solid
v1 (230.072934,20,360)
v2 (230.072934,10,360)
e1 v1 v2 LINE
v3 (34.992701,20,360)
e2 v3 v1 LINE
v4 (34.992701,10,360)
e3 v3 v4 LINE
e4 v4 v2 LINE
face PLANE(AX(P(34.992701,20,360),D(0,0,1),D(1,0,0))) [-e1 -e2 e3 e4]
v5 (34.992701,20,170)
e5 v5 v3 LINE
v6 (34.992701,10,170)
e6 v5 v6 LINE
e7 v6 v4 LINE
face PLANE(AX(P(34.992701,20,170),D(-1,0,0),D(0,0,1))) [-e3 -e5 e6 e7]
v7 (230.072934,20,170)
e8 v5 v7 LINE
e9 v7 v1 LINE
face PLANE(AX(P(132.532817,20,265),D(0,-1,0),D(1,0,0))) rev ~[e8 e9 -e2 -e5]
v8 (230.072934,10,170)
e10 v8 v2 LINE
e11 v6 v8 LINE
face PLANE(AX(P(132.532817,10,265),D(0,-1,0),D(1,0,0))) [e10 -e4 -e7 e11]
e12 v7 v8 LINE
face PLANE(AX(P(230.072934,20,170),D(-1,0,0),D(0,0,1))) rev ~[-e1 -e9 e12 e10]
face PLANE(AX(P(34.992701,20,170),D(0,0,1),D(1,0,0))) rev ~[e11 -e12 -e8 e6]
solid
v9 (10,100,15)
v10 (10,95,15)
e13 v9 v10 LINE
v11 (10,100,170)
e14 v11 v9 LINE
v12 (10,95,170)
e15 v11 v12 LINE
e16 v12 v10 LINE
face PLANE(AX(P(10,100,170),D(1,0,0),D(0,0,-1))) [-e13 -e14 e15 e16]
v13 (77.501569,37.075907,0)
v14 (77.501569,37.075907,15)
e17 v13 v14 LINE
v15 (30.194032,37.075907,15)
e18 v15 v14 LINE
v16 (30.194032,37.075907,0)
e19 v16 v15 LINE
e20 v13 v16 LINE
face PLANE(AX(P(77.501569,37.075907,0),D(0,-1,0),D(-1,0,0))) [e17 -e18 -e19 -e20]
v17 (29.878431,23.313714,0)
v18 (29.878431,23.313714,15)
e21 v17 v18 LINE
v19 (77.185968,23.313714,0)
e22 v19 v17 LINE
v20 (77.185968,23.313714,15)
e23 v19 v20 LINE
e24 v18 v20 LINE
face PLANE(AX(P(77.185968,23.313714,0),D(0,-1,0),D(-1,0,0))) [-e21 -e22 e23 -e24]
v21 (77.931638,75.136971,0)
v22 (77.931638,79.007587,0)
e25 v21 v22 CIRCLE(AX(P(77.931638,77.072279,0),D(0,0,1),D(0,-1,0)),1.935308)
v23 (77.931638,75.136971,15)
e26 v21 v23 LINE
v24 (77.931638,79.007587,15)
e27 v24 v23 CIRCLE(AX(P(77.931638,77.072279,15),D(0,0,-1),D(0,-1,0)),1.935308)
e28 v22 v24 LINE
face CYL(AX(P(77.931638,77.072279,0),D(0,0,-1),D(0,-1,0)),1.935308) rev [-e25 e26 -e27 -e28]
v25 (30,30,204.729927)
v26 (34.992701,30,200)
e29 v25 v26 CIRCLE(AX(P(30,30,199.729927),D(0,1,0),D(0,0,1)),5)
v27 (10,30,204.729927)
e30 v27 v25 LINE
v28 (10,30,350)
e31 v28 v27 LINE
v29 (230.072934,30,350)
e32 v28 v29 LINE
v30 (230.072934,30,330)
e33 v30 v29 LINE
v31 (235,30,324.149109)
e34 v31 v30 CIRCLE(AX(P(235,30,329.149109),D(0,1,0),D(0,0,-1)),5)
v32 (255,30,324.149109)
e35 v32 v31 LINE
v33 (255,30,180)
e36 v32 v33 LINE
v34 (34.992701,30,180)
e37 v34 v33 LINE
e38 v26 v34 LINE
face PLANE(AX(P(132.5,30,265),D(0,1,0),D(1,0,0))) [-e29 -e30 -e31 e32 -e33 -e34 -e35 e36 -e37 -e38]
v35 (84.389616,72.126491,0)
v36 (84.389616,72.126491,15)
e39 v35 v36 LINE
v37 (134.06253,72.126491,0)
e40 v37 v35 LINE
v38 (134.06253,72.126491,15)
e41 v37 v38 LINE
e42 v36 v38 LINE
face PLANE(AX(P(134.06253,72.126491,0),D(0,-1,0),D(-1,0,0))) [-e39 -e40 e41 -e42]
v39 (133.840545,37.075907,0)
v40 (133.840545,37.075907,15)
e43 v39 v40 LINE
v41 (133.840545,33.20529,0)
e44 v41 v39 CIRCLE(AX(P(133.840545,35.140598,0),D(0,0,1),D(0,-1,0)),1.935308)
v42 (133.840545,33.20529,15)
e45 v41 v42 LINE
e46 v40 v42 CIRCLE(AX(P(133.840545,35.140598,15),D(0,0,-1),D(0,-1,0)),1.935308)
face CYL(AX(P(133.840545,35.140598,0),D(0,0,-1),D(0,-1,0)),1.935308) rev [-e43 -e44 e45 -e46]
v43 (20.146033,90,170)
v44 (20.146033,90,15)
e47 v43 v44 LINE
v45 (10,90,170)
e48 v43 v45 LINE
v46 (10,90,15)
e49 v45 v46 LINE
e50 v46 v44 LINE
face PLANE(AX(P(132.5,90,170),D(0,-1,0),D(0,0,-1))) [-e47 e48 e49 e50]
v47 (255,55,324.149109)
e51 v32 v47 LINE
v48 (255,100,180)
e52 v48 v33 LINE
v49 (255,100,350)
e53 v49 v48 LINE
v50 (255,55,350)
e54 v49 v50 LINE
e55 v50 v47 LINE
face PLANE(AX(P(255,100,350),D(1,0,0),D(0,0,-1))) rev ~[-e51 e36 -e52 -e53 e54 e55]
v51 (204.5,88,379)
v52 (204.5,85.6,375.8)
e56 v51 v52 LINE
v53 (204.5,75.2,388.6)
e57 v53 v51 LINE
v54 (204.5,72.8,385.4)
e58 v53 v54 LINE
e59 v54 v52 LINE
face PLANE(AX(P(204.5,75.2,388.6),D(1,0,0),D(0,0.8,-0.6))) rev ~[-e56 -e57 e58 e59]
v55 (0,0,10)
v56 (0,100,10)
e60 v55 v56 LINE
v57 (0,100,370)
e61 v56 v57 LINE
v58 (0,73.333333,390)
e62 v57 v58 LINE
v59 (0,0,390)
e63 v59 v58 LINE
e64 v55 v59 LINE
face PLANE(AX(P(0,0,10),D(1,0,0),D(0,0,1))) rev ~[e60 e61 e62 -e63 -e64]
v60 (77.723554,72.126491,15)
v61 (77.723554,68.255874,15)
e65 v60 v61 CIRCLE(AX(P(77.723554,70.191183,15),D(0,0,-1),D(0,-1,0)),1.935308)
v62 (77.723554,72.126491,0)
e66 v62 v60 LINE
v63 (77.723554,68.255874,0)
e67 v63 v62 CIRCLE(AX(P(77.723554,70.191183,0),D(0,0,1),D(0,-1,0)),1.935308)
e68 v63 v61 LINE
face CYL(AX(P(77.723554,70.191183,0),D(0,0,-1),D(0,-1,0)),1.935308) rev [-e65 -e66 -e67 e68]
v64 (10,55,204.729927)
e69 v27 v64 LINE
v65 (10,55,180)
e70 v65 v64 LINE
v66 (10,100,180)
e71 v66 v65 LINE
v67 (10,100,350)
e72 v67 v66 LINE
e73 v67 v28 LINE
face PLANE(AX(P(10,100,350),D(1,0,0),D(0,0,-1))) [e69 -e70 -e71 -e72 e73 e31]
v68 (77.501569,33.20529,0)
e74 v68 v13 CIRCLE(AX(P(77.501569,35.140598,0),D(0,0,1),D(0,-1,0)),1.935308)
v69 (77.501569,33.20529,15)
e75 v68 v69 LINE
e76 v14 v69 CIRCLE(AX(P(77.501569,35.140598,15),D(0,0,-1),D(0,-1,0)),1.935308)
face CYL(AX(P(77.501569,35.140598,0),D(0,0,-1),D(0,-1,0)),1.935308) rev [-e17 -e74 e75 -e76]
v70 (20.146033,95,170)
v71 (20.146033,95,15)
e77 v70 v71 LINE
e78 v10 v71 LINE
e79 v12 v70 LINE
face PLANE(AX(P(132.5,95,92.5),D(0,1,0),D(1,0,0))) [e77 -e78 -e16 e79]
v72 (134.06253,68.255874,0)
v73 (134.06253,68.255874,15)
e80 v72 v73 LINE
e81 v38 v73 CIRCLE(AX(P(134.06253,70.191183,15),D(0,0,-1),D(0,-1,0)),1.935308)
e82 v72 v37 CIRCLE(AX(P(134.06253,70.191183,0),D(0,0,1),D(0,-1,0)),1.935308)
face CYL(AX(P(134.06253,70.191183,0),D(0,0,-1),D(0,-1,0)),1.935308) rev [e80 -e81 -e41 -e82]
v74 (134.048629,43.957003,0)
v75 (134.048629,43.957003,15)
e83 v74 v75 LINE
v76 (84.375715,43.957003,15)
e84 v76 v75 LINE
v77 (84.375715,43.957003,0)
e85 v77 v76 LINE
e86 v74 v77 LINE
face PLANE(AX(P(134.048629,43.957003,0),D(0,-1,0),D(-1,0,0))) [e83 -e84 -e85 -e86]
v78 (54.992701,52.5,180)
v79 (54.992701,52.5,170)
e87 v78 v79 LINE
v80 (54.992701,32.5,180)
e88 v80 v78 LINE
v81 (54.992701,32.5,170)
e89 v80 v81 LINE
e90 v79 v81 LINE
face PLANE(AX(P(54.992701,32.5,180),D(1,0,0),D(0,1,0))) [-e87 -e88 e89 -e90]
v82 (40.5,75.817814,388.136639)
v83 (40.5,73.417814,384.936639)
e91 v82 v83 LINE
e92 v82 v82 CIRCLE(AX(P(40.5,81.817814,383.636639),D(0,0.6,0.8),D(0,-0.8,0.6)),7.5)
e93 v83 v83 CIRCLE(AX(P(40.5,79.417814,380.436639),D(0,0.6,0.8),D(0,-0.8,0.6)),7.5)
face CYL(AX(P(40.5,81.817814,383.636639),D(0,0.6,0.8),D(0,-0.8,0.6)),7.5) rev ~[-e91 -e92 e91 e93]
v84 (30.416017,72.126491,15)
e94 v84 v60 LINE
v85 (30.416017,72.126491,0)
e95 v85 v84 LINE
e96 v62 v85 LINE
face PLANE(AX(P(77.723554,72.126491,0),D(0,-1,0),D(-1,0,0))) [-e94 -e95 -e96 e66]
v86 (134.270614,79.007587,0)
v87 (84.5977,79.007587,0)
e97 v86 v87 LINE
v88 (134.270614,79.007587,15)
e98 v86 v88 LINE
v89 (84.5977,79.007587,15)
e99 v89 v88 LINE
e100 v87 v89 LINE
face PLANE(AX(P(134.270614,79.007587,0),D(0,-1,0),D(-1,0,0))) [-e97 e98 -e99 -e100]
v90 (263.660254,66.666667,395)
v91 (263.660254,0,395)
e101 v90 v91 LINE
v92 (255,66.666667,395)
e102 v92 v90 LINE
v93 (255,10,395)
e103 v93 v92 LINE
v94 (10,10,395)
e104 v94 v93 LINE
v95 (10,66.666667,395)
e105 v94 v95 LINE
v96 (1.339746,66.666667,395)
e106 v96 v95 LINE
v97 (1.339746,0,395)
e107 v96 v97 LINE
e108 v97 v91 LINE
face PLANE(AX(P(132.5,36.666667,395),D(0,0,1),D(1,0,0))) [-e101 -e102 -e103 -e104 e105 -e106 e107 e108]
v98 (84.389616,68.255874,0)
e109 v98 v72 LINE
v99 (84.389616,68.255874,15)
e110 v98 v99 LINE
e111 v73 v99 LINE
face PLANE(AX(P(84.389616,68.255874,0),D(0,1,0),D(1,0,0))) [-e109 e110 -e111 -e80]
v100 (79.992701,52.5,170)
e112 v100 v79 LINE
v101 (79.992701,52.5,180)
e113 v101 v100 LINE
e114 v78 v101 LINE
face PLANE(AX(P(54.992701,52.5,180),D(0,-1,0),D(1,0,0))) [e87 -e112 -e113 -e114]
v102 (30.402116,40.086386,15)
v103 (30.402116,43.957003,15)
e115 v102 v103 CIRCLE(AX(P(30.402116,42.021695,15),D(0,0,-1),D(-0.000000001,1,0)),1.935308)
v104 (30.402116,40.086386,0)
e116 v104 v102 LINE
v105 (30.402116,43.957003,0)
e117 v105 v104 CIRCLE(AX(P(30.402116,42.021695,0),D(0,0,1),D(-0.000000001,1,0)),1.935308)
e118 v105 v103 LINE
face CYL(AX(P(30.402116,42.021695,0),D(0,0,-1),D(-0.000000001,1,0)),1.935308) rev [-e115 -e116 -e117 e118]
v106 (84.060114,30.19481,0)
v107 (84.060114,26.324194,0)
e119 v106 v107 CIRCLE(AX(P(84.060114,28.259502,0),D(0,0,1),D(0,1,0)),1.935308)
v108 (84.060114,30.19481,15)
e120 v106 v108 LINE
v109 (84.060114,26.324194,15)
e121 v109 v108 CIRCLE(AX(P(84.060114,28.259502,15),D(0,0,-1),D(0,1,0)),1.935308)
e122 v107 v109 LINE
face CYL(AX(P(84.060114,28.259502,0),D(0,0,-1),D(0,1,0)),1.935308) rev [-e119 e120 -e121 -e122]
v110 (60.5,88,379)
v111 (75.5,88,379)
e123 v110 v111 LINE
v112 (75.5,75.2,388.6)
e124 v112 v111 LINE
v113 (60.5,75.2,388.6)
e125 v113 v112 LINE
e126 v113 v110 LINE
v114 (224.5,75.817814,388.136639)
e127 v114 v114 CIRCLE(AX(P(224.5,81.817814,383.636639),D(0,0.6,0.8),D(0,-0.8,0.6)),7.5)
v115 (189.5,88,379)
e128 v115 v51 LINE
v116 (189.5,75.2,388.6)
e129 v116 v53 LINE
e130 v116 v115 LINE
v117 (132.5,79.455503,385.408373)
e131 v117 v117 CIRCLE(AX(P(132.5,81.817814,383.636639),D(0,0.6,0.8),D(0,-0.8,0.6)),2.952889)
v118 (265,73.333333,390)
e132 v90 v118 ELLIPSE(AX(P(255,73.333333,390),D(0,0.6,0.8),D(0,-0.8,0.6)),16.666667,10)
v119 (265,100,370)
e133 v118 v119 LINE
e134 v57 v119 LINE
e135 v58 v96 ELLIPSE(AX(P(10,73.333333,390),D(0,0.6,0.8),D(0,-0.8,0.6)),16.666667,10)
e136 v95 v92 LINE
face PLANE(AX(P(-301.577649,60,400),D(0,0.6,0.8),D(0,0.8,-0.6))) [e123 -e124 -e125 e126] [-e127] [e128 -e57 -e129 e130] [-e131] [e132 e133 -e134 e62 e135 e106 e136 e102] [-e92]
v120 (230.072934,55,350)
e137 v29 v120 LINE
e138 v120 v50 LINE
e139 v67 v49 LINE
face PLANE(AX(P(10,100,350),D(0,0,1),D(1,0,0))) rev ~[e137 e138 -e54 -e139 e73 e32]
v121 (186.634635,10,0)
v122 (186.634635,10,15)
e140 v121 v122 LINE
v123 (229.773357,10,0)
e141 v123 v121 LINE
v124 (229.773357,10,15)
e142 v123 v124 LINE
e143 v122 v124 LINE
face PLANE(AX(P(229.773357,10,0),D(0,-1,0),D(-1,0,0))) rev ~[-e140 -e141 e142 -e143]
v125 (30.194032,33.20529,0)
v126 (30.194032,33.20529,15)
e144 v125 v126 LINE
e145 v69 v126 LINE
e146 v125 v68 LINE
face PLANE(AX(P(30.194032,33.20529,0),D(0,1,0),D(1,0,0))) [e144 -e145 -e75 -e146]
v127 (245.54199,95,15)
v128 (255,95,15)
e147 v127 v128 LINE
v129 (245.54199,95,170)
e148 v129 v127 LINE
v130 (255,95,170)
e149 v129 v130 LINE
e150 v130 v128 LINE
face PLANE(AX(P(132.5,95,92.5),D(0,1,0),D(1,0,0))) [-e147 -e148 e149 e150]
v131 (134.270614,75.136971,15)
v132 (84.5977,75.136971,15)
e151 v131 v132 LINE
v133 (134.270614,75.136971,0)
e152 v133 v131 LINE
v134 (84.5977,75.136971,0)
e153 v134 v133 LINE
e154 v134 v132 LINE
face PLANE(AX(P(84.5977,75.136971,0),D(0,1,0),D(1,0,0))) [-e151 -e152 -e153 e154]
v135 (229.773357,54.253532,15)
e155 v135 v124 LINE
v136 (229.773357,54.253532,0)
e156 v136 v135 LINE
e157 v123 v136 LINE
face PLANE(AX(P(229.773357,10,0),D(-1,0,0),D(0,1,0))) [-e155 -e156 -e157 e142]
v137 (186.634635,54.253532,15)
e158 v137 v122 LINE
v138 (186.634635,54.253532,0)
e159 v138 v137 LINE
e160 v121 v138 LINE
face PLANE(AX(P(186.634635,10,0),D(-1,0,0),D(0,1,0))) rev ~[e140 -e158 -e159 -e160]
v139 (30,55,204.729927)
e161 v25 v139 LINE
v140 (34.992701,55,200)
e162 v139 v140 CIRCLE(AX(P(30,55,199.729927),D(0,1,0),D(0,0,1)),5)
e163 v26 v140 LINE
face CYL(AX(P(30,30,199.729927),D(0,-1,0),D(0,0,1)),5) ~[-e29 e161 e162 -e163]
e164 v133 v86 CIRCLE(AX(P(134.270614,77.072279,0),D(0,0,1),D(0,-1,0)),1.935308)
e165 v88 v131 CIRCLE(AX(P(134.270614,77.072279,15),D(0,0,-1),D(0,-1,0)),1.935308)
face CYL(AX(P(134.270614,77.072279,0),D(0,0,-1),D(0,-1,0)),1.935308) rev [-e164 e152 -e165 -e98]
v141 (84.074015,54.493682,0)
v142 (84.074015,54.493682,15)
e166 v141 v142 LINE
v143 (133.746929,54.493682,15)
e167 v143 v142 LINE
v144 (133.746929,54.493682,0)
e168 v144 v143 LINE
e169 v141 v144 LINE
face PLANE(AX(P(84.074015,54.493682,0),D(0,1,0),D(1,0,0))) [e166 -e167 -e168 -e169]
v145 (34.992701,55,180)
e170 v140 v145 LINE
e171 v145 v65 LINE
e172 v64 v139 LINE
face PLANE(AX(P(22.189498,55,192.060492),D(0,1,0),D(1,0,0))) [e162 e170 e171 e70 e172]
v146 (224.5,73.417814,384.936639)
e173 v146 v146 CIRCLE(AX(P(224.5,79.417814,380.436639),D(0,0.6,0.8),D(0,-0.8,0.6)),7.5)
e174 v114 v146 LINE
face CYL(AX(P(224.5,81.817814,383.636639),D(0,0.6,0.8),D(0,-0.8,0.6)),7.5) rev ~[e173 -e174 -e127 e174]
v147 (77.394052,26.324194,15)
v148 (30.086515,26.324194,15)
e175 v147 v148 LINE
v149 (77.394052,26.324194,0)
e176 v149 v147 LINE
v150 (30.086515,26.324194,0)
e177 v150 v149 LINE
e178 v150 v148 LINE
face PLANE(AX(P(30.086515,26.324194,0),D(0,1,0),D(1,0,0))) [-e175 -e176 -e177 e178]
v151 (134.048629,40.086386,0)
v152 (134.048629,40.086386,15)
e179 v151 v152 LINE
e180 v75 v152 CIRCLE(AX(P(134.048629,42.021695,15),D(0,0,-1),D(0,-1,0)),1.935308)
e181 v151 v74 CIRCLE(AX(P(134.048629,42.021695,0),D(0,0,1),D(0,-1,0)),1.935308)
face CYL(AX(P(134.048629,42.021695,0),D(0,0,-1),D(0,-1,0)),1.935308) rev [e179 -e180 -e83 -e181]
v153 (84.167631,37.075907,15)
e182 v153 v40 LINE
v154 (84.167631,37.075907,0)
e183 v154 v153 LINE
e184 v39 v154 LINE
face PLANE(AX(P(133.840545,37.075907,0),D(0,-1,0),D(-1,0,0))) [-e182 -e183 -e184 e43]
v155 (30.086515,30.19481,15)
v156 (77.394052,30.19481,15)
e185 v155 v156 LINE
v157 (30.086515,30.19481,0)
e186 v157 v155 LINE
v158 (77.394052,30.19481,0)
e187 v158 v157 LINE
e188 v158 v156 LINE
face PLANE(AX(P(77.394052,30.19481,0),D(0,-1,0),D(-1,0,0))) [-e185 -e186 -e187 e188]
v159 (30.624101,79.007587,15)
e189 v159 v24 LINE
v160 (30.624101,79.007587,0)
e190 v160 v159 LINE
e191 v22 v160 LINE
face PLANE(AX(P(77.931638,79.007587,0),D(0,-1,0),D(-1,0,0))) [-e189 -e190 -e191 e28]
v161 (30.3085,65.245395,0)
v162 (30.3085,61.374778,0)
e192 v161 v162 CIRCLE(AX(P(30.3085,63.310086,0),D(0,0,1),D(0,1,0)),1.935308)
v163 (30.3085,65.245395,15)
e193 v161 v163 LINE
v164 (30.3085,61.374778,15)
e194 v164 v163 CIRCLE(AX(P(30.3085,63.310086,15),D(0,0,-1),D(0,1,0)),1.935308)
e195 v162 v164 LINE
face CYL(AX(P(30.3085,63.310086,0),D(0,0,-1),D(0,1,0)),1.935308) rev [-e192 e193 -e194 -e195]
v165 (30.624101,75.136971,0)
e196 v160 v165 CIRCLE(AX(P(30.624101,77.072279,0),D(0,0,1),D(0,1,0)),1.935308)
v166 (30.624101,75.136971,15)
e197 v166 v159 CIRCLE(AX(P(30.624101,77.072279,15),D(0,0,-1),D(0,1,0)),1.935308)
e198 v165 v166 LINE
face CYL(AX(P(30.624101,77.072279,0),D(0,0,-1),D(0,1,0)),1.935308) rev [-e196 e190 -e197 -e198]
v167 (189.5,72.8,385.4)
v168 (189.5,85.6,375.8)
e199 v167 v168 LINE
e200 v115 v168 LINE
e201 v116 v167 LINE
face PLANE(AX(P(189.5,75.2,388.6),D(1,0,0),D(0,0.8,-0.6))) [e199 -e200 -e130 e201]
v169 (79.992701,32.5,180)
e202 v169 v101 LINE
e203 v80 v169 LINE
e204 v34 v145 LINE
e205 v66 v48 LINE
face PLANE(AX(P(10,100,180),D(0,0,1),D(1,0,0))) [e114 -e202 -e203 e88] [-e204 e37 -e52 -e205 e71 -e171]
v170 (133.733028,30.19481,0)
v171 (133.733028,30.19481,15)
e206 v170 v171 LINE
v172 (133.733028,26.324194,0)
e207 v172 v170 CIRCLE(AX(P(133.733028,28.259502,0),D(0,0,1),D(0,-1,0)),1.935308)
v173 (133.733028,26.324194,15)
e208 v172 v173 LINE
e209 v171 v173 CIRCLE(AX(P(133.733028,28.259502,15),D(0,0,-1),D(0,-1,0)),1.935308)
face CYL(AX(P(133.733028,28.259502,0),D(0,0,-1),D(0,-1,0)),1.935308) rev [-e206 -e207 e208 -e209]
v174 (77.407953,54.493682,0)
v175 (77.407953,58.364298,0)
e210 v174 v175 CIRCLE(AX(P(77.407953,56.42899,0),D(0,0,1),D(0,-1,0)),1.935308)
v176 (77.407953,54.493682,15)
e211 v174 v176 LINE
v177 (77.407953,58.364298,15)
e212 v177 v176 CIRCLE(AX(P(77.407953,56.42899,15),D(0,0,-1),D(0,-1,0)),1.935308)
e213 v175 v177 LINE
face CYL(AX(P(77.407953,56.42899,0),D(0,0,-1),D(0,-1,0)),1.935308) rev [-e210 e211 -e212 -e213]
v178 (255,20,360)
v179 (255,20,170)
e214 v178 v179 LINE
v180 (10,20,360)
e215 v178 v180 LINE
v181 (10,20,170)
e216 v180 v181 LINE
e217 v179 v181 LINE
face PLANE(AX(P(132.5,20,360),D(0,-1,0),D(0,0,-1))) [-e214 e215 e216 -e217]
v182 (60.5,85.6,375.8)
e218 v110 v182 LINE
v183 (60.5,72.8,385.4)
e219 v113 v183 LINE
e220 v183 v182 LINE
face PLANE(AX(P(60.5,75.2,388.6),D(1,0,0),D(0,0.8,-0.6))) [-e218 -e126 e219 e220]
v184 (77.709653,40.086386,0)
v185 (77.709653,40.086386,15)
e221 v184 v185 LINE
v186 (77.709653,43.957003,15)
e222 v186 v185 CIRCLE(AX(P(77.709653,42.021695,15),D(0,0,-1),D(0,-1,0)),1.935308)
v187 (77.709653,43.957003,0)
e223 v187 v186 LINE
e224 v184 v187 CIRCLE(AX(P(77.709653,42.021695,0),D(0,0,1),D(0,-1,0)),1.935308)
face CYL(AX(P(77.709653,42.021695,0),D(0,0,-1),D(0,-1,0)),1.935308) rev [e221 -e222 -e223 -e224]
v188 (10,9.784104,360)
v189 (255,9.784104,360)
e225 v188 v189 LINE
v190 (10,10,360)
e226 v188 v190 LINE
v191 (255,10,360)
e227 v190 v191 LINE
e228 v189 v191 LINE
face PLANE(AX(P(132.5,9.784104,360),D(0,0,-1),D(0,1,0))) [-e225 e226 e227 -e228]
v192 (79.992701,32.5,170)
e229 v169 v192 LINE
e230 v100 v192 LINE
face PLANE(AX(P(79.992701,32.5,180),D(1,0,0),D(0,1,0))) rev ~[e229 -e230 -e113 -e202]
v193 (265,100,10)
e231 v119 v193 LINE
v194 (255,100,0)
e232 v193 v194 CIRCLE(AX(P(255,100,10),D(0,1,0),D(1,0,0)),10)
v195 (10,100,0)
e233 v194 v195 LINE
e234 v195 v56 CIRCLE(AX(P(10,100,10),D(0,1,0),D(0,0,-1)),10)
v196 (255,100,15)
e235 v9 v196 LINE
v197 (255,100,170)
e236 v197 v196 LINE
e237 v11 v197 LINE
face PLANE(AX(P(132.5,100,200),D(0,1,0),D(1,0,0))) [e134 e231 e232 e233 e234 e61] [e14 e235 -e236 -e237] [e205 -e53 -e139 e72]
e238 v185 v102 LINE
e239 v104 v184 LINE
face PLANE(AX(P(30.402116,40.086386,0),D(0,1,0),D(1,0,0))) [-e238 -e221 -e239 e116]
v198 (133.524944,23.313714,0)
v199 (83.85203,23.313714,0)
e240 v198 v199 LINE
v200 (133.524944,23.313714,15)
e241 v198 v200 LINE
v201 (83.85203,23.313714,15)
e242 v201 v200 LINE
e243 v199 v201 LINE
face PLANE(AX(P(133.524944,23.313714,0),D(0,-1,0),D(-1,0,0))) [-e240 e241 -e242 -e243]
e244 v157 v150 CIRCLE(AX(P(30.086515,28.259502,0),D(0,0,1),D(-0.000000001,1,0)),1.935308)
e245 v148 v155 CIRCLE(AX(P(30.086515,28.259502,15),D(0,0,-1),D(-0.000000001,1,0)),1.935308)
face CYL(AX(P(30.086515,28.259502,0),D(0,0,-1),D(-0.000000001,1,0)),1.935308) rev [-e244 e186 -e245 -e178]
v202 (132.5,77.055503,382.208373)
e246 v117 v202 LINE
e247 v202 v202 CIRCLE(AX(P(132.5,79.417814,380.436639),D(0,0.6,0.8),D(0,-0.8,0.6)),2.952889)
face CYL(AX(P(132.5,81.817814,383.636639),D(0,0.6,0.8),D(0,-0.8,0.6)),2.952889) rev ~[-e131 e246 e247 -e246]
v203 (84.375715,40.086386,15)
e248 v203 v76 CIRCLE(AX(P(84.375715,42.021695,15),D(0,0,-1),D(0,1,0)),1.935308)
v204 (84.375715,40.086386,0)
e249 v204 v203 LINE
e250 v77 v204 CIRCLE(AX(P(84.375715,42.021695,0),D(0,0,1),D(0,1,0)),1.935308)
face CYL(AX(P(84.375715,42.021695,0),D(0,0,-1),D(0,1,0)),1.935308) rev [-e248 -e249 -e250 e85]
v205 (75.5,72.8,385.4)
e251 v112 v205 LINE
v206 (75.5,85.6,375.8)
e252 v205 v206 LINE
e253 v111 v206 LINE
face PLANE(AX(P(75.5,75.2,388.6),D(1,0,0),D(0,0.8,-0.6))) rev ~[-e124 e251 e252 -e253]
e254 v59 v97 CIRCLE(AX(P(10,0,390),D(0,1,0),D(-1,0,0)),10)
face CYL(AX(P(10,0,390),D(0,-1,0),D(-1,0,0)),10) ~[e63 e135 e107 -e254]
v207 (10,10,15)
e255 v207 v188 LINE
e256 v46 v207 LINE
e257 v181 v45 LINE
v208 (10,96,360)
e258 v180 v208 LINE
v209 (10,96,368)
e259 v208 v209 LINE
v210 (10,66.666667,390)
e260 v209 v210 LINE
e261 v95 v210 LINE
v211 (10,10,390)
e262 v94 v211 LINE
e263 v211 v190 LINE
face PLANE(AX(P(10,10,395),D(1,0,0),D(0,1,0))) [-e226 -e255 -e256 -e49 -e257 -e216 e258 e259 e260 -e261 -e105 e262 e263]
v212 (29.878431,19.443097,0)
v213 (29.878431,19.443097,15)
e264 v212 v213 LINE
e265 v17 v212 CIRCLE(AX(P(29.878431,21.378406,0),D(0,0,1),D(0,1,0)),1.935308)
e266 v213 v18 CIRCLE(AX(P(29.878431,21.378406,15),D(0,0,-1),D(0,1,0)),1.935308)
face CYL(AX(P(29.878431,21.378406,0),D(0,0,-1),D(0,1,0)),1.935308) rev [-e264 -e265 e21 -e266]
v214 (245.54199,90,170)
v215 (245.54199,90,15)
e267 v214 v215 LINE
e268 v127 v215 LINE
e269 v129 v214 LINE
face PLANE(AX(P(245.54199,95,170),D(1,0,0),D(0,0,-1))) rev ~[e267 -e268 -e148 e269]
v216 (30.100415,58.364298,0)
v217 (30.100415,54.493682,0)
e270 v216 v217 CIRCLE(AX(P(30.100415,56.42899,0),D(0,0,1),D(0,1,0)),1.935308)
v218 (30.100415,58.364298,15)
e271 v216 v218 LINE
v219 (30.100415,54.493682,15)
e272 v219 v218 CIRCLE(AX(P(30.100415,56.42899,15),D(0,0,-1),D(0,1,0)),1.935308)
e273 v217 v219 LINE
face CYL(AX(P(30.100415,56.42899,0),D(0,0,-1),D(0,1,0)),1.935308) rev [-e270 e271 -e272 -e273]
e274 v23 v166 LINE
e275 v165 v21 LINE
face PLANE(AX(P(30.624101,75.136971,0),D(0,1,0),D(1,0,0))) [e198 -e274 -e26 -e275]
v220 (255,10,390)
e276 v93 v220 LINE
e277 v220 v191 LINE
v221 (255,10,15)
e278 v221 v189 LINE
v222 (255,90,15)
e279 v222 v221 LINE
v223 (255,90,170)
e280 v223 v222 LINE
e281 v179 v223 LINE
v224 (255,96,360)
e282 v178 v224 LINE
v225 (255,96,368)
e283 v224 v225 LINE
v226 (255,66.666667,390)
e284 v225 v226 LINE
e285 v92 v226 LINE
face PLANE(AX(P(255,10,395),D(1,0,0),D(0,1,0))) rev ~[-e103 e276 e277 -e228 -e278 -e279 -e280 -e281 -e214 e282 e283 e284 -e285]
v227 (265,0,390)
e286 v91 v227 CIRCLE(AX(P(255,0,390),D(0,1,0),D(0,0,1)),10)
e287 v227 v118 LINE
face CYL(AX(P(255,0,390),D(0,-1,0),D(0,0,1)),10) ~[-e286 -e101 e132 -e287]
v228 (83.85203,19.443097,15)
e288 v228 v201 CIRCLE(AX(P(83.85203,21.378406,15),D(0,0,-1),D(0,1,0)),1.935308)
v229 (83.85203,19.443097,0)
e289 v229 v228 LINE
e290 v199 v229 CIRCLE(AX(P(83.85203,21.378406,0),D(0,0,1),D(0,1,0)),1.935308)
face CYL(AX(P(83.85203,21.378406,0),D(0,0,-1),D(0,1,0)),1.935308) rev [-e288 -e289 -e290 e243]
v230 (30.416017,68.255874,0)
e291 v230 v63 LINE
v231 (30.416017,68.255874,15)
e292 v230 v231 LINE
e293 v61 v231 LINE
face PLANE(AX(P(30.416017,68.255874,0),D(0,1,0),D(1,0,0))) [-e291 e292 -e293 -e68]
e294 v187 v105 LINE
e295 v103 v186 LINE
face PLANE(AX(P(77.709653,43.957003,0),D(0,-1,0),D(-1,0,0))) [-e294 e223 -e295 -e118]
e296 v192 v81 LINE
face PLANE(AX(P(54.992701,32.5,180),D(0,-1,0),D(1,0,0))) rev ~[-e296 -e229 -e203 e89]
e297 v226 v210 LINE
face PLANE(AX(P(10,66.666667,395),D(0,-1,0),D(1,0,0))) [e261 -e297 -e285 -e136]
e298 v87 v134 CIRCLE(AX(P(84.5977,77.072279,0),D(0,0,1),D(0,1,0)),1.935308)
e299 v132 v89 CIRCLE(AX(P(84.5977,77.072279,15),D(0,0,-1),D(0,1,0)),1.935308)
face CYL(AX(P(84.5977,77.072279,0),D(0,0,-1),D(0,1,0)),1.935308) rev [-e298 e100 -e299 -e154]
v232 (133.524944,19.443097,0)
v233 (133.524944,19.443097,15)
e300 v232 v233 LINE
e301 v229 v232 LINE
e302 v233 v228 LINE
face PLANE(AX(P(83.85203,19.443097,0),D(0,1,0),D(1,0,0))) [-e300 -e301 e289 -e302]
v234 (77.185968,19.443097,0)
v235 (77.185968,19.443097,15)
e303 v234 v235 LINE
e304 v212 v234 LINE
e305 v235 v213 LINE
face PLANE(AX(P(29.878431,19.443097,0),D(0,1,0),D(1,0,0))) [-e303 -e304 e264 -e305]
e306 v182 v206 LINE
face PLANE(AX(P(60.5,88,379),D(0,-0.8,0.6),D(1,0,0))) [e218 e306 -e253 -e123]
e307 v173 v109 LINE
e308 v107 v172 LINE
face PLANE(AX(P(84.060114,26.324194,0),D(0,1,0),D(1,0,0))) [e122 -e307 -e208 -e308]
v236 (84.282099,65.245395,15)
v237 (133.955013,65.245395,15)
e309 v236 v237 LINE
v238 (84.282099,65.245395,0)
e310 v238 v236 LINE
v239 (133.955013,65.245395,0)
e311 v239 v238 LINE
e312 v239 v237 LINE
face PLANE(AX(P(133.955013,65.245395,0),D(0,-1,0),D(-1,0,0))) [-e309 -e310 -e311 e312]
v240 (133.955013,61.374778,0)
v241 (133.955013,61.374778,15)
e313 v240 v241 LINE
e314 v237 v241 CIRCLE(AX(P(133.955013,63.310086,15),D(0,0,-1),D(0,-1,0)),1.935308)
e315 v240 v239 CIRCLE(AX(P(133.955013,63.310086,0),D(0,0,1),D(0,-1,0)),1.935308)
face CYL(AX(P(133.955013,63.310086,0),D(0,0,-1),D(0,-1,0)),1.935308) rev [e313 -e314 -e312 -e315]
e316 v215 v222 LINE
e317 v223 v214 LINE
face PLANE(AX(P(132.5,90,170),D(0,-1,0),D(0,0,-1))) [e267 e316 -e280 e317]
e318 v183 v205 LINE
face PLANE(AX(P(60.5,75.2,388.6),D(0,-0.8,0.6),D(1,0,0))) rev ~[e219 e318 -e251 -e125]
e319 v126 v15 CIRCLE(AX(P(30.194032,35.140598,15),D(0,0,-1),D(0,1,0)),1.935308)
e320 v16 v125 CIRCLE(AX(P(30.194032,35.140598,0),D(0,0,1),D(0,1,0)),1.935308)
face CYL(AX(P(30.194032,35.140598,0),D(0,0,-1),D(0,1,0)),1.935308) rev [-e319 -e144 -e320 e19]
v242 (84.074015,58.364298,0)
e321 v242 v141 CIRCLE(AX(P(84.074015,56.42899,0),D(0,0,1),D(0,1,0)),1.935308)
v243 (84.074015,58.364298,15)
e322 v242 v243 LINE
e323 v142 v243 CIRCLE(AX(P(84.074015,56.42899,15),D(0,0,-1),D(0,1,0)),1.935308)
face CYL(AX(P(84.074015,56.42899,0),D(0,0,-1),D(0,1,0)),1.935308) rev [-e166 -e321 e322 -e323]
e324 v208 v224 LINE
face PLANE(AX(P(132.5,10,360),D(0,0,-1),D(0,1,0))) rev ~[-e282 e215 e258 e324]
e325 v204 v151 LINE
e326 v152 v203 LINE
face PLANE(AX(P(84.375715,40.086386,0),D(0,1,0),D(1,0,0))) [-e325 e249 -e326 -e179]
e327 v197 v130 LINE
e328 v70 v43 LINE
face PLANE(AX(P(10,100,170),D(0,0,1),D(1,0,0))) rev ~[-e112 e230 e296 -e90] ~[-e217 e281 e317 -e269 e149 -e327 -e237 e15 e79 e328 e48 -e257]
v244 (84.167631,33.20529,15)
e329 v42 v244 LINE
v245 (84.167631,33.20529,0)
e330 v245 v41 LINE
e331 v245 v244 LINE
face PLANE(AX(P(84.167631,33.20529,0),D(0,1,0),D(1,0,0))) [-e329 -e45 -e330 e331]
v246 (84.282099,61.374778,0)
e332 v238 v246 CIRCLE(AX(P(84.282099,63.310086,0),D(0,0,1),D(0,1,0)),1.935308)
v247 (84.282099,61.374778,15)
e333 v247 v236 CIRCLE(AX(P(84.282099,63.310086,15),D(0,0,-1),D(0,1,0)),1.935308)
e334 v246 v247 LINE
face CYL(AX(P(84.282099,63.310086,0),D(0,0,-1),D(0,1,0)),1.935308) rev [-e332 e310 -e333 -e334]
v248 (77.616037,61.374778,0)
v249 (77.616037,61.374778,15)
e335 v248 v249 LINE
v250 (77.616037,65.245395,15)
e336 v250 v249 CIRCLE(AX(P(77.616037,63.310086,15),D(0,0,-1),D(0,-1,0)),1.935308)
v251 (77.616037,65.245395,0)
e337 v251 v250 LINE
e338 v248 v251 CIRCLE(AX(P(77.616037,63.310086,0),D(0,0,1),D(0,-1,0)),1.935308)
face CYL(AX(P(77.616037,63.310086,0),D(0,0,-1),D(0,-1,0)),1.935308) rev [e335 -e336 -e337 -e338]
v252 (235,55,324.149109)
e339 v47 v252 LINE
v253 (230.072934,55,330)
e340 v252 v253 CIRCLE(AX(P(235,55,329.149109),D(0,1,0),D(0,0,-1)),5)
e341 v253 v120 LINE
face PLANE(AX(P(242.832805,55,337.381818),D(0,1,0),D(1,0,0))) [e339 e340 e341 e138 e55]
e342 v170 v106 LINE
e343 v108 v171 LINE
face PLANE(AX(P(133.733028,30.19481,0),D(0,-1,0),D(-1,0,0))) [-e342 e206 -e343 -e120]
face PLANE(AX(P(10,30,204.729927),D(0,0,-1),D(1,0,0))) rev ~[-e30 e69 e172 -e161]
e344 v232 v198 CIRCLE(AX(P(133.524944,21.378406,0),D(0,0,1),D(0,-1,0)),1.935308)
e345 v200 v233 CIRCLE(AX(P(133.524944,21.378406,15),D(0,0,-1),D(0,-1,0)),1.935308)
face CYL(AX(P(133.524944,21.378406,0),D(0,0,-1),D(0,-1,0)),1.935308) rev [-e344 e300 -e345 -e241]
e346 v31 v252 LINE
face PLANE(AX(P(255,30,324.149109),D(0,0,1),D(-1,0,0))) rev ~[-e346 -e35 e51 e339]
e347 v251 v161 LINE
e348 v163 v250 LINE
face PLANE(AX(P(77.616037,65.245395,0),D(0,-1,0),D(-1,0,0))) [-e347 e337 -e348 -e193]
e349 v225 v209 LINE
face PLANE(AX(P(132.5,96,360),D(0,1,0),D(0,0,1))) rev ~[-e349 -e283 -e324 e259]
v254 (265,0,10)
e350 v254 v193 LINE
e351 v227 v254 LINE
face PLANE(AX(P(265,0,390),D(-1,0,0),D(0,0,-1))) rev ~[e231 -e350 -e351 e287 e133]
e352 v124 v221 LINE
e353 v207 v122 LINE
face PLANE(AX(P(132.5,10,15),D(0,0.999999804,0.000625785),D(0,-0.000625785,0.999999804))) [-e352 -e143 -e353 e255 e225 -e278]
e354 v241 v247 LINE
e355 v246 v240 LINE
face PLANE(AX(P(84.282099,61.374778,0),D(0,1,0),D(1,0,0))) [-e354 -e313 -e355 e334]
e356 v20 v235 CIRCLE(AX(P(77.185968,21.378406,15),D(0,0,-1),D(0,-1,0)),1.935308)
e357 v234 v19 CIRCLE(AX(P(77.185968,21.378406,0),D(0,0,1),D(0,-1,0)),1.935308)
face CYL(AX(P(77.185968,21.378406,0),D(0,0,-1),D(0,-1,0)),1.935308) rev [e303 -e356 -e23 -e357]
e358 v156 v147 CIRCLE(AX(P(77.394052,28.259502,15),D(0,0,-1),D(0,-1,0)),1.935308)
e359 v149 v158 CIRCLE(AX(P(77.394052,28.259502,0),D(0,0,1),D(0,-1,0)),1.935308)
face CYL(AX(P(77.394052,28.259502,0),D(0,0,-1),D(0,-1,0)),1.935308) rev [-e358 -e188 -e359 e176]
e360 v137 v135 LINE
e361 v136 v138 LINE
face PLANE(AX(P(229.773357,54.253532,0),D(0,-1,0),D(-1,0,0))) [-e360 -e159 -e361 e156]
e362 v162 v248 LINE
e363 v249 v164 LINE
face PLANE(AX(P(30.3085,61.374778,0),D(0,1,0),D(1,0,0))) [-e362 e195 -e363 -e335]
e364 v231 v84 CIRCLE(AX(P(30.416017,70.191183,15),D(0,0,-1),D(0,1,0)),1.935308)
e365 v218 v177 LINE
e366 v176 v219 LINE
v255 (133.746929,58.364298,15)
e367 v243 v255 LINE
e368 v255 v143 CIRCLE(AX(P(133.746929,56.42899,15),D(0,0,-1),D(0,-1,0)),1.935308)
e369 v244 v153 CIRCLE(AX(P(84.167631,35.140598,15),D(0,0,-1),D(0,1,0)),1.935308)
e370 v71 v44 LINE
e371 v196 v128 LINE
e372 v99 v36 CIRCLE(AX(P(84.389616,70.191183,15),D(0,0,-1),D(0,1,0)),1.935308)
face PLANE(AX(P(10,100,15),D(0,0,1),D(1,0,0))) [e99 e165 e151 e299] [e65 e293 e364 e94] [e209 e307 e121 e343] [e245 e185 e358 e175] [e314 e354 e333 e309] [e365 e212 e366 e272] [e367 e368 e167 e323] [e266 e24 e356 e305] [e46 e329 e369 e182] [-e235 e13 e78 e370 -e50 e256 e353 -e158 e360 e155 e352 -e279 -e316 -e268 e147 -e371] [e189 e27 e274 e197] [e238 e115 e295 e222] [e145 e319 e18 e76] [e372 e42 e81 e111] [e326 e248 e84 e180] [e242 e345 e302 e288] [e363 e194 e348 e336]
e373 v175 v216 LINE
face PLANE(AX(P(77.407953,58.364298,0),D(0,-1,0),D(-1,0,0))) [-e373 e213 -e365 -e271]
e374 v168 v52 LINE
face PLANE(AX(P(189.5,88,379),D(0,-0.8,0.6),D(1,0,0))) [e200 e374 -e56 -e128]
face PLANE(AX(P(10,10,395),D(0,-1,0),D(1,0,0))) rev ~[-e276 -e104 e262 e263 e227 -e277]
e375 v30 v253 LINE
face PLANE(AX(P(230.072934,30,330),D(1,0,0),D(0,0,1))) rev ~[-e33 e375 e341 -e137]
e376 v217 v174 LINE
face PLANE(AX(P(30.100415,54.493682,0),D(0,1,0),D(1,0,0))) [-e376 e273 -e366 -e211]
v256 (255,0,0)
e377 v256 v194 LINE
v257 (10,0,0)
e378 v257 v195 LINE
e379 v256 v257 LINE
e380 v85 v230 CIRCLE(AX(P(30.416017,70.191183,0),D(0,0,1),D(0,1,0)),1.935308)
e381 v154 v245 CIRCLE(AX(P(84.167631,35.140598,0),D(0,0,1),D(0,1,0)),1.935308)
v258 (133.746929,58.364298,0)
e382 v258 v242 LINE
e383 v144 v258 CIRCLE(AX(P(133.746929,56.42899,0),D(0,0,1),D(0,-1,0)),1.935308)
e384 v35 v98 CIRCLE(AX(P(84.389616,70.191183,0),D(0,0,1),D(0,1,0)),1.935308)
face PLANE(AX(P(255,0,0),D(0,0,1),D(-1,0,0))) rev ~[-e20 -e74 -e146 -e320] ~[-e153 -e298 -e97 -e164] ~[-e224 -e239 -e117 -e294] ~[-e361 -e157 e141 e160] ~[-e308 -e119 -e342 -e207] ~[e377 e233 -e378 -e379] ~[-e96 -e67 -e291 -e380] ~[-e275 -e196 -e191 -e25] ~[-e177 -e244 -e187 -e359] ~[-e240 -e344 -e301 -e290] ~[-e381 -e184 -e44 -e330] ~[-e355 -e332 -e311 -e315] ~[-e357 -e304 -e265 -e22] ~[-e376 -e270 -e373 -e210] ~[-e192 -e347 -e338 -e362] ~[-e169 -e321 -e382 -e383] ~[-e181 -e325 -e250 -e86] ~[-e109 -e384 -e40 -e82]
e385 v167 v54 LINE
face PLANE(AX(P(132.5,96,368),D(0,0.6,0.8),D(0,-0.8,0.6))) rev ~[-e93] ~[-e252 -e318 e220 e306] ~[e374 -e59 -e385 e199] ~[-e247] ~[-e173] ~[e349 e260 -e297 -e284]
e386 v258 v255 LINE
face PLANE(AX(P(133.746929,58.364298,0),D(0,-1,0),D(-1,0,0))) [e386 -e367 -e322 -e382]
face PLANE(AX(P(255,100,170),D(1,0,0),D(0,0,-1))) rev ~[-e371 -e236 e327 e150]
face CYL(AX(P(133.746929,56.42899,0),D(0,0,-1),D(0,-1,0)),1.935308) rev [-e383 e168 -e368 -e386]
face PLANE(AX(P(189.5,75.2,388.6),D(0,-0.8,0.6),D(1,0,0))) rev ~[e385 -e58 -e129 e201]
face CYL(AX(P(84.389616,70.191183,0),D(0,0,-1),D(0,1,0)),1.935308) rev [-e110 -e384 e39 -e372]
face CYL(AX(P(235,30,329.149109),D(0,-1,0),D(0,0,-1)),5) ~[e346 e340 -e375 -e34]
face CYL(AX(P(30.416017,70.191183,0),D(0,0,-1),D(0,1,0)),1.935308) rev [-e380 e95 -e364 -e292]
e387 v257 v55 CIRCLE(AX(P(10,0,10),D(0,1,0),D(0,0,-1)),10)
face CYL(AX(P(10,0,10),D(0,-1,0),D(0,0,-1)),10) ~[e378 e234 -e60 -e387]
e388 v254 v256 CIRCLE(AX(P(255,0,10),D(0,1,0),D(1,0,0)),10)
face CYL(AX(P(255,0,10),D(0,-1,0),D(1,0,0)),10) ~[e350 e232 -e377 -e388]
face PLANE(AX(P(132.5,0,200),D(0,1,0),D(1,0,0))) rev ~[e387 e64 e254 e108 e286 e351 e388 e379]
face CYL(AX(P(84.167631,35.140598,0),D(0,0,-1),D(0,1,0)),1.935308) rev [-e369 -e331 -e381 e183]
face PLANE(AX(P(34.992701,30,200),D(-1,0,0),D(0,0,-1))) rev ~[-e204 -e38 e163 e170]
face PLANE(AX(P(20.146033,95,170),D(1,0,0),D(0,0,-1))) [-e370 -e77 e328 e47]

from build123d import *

# Parameters (mm, degrees)
BOSS_EXTRUDE2_DEPTH      = 100
SKETCH4_W                = 245
SKETCH4_H                = 170
CUT_EXTRUDE2_DEPTH       = 70
CUT_EXTRUDE12_DEPTH      = 434.077648927
CUT_EXTRUDE12_DEPTH_BACK = 434.077648927
CUT_EXTRUDE13_DEPTH      = 122.5
CUT_EXTRUDE14_DEPTH      = 122.5
SKETCH16_W               = 43.138722298
SKETCH16_H               = 44.253532058
CUT_EXTRUDE15_DEPTH      = 30
SKETCH17_R               = 2.952889484
SKETCH17_R_2             = 7.5
SKETCH17_W               = 15
SKETCH17_H               = 16
CUT_EXTRUDE16_DEPTH      = 10
BOSS_EXTRUDE3_DEPTH      = 25
SKETCH19_W               = 25
SKETCH19_H               = 20
CUT_EXTRUDE17_DEPTH      = 15
SKETCH21_W               = 195.080232819
SKETCH21_H               = 190
BOSS_EXTRUDE9_DEPTH      = 10
SKETCH22_W               = 265
SKETCH22_H               = 73.333333333
CUT_EXTRUDE18_DEPTH      = 5
SKETCH23_W               = 245
SKETCH23_H               = 56.666666667
CUT_EXTRUDE19_DEPTH      = 5
SKETCH25_W               = 245
SKETCH25_H               = 155
CUT_EXTRUDE20_DEPTH      = 5
SKETCH26_W               = 225.395956853
SKETCH26_H               = 155
CUT_EXTRUDE21_DEPTH      = 5


with BuildPart() as part:
    # Sketch1 → Boss-Extrude2 (new body)
    with BuildSketch(Plane(origin=(0, 0, 0), x_dir=(1, 0, 0), z_dir=(0, 1, 0))):
        with BuildLine():
            Line((0, -10), (0, -390))
            ThreePointArc((0, -390), (2.928932188, -397.071067812), (10, -400))
            Line((10, -400), (255, -400))
            ThreePointArc((255, -400), (262.071067812, -397.071067812), (265, -390))
            Line((265, -390), (265, -10))
            ThreePointArc((265, -10), (262.071067812, -2.928932188), (255, 0))
            Line((255, 0), (10, 0))
            ThreePointArc((10, 0), (2.928932188, -2.928932188), (0, -10))
        make_face()
    extrude(amount=BOSS_EXTRUDE2_DEPTH)

    # Sketch4 → Cut-Extrude2 (cut)
    with BuildSketch(Plane(origin=(0, 100, 0), x_dir=(1, 0, 0), z_dir=(0, 1, 0))):
        with Locations((132.5, -265)):
            Rectangle(SKETCH4_W, SKETCH4_H)
    extrude(amount=-CUT_EXTRUDE2_DEPTH, mode=Mode.SUBTRACT)

    # Sketch10 → Cut-Extrude12 (cut, two sides: drawn at the far end of the back side and taken through both)
    with BuildSketch(Plane(origin=(132.5, 0, 0), x_dir=(0, 0, -1), z_dir=(1, 0, 0)).offset(-CUT_EXTRUDE12_DEPTH_BACK)):
        Polygon((-400, 60), (-370, 100), (-400, 100), align=None)
    extrude(amount=CUT_EXTRUDE12_DEPTH + CUT_EXTRUDE12_DEPTH_BACK, mode=Mode.SUBTRACT)

    # Sketch14 → Cut-Extrude13 (cut, symmetric)
    with BuildSketch(Plane(origin=(132.5, 0, 0), x_dir=(0, 0, -1), z_dir=(1, 0, 0))):
        Polygon((-390, 10), (-360, 10), (-360, 96), (-368, 96), (-390, 66.666666667), align=None)
    extrude(amount=CUT_EXTRUDE13_DEPTH, both=True, mode=Mode.SUBTRACT)

    # Sketch15 → Cut-Extrude14 (cut, symmetric)
    with BuildSketch(Plane(origin=(132.5, 0, 0), x_dir=(0, 0, -1), z_dir=(1, 0, 0))):
        Polygon((-360, 9.784104138), (-360, 20), (-170, 20), (-170, 90), (-15, 90), (-15, 10), align=None)
    extrude(amount=CUT_EXTRUDE14_DEPTH, both=True, mode=Mode.SUBTRACT)

    # Sketch16 → Cut-Extrude15 (cut)
    with BuildSketch(Plane(origin=(0, 0, 0), x_dir=(-1, 0, 0), z_dir=(0, 0, -1))):
        with BuildLine():
            Line((-134.270613799, 79.007587215), (-84.597699843, 79.007587215))
            ThreePointArc((-84.597699843, 79.007587215), (-82.662391507, 77.072278879), (-84.597699843, 75.136970544))
            Line((-84.597699843, 75.136970544), (-134.270613799, 75.136970544))
            ThreePointArc((-134.270613799, 75.136970544), (-136.205922135, 77.072278879), (-134.270613799, 79.007587215))
        make_face()
        with BuildLine():
            Line((-77.931637797, 79.007587215), (-30.624100696, 79.007587215))
            ThreePointArc((-30.624100696, 79.007587215), (-28.68879236, 77.072278879), (-30.624100696, 75.136970544))
            Line((-30.624100696, 75.136970544), (-77.931637797, 75.136970544))
            ThreePointArc((-77.931637797, 75.136970544), (-79.866946133, 77.072278879), (-77.931637797, 79.007587215))
        make_face()
        with BuildLine():
            Line((-134.062529734, 72.12649091), (-84.389615778, 72.12649091))
            ThreePointArc((-84.389615778, 72.12649091), (-82.454307442, 70.191182574), (-84.389615778, 68.255874238))
            Line((-84.389615778, 68.255874238), (-134.062529734, 68.255874238))
            ThreePointArc((-134.062529734, 68.255874238), (-135.99783807, 70.191182574), (-134.062529734, 72.12649091))
        make_face()
        with BuildLine():
            Line((-77.723553732, 72.12649091), (-30.416016631, 72.12649091))
            ThreePointArc((-30.416016631, 72.12649091), (-28.480708295, 70.191182574), (-30.416016631, 68.255874238))
            Line((-30.416016631, 68.255874238), (-77.723553732, 68.255874238))
            ThreePointArc((-77.723553732, 68.255874238), (-79.658862068, 70.191182574), (-77.723553732, 72.12649091))
        make_face()
        with BuildLine():
            Line((-133.955012604, 65.245394604), (-84.282098648, 65.245394604))
            ThreePointArc((-84.282098648, 65.245394604), (-82.346790312, 63.310086268), (-84.282098648, 61.374777932))
            Line((-84.282098648, 61.374777932), (-133.955012604, 61.374777932))
            ThreePointArc((-133.955012604, 61.374777932), (-135.89032094, 63.310086268), (-133.955012604, 65.245394604))
        make_face()
        with BuildLine():
            Line((-77.616036602, 65.245394604), (-30.308499501, 65.245394604))
            ThreePointArc((-30.308499501, 65.245394604), (-28.373191165, 63.310086268), (-30.308499501, 61.374777932))
            Line((-30.308499501, 61.374777932), (-77.616036602, 61.374777932))
            ThreePointArc((-77.616036602, 61.374777932), (-79.551344938, 63.310086268), (-77.616036602, 65.245394604))
        make_face()
        with BuildLine():
            Line((-133.746928539, 58.364298299), (-84.074014583, 58.364298299))
            ThreePointArc((-84.074014583, 58.364298299), (-82.138706247, 56.428989963), (-84.074014583, 54.493681627))
            Line((-84.074014583, 54.493681627), (-133.746928539, 54.493681627))
            ThreePointArc((-133.746928539, 54.493681627), (-135.682236875, 56.428989963), (-133.746928539, 58.364298299))
        make_face()
        with BuildLine():
            Line((-77.407952537, 58.364298299), (-30.100415436, 58.364298299))
            ThreePointArc((-30.100415436, 58.364298299), (-28.1651071, 56.428989963), (-30.100415436, 54.493681627))
            Line((-30.100415436, 54.493681627), (-77.407952537, 54.493681627))
            ThreePointArc((-77.407952537, 54.493681627), (-79.343260873, 56.428989963), (-77.407952537, 58.364298299))
        make_face()
        with BuildLine():
            Line((-134.048629345, 43.957002909), (-84.375715389, 43.957002909))
            ThreePointArc((-84.375715389, 43.957002909), (-82.440407053, 42.021694573), (-84.375715389, 40.086386237))
            Line((-84.375715389, 40.086386237), (-134.048629345, 40.086386237))
            ThreePointArc((-134.048629345, 40.086386237), (-135.983937681, 42.021694573), (-134.048629345, 43.957002909))
        make_face()
        with BuildLine():
            Line((-77.709653343, 43.957002909), (-30.402116242, 43.957002909))
            ThreePointArc((-30.402116242, 43.957002909), (-28.466807907, 42.021694573), (-30.402116242, 40.086386237))
            Line((-30.402116242, 40.086386237), (-77.709653343, 40.086386237))
            ThreePointArc((-77.709653343, 40.086386237), (-79.644961679, 42.021694573), (-77.709653343, 43.957002909))
        make_face()
        with BuildLine():
            Line((-133.84054528, 37.075906603), (-84.167631324, 37.075906603))
            ThreePointArc((-84.167631324, 37.075906603), (-82.232322988, 35.140598267), (-84.167631324, 33.205289932))
            Line((-84.167631324, 33.205289932), (-133.84054528, 33.205289932))
            ThreePointArc((-133.84054528, 33.205289932), (-135.775853616, 35.140598267), (-133.84054528, 37.075906603))
        make_face()
        with BuildLine():
            Line((-77.501569278, 37.075906603), (-30.194032177, 37.075906603))
            ThreePointArc((-30.194032177, 37.075906603), (-28.258723841, 35.140598267), (-30.194032177, 33.205289932))
            Line((-30.194032177, 33.205289932), (-77.501569278, 33.205289932))
            ThreePointArc((-77.501569278, 33.205289932), (-79.436877614, 35.140598267), (-77.501569278, 37.075906603))
        make_face()
        with BuildLine():
            Line((-133.73302815, 30.194810298), (-84.060114194, 30.194810298))
            ThreePointArc((-84.060114194, 30.194810298), (-82.124805858, 28.259501962), (-84.060114194, 26.324193626))
            Line((-84.060114194, 26.324193626), (-133.73302815, 26.324193626))
            ThreePointArc((-133.73302815, 26.324193626), (-135.668336486, 28.259501962), (-133.73302815, 30.194810298))
        make_face()
        with BuildLine():
            Line((-77.394052148, 30.194810298), (-30.086515047, 30.194810298))
            ThreePointArc((-30.086515047, 30.194810298), (-28.151206712, 28.259501962), (-30.086515047, 26.324193626))
            Line((-30.086515047, 26.324193626), (-77.394052148, 26.324193626))
            ThreePointArc((-77.394052148, 26.324193626), (-79.329360484, 28.259501962), (-77.394052148, 30.194810298))
        make_face()
        with BuildLine():
            Line((-133.524944085, 23.313713992), (-83.852030129, 23.313713992))
            ThreePointArc((-83.852030129, 23.313713992), (-81.916721793, 21.378405656), (-83.852030129, 19.44309732))
            Line((-83.852030129, 19.44309732), (-133.524944085, 19.44309732))
            ThreePointArc((-133.524944085, 19.44309732), (-135.460252421, 21.378405656), (-133.524944085, 23.313713992))
        make_face()
        with BuildLine():
            Line((-77.185968083, 23.313713992), (-29.878430982, 23.313713992))
            ThreePointArc((-29.878430982, 23.313713992), (-27.943122646, 21.378405656), (-29.878430982, 19.44309732))
            Line((-29.878430982, 19.44309732), (-77.185968083, 19.44309732))
            ThreePointArc((-77.185968083, 19.44309732), (-79.121276419, 21.378405656), (-77.185968083, 23.313713992))
        make_face()
        with Locations((-208.203996246, 32.126766029)):
            Rectangle(SKETCH16_W, SKETCH16_H)
    extrude(amount=-CUT_EXTRUDE15_DEPTH, mode=Mode.SUBTRACT)

    # Sketch17 → Cut-Extrude16 (cut)
    with BuildSketch(Plane(origin=(0, 213.6, 284.8), x_dir=(1, 0, 0), z_dir=(0, 0.5999999999999998, 0.8000000000000004))):
        with Locations(Location((132.5, -164.727732251, 0), (0, 0, 270))):
            Circle(SKETCH17_R)
        with Locations(Location((40.5, -164.727732251, 0), (0, 0, 270))):
            Circle(SKETCH17_R_2)
        with Locations(Location((224.5, -164.727732251, 0), (0, 0, 270))):
            Circle(SKETCH17_R_2)
        with Locations((68, -165)):
            Rectangle(SKETCH17_W, SKETCH17_H)
        with Locations((197, -165)):
            Rectangle(SKETCH17_W, SKETCH17_H)
    extrude(amount=-CUT_EXTRUDE16_DEPTH, mode=Mode.SUBTRACT)

    # Sketch18 → Boss-Extrude3 (add)
    with BuildSketch(Plane(origin=(0, 30, 0), x_dir=(1, 0, 0), z_dir=(0, 1, 0))):
        with BuildLine():
            Line((10, -180), (10, -204.729927007))
            Line((10, -204.729927007), (30, -204.729927007))
            ThreePointArc((30, -204.729927007), (33.43872324, -203.359690427), (34.99270073, -200))
            Line((34.99270073, -200), (34.99270073, -180))
            Line((34.99270073, -180), (10, -180))
        make_face()
        with BuildLine():
            Line((255, -350), (255, -324.14910859))
            Line((255, -324.14910859), (235, -324.14910859))
            ThreePointArc((235, -324.14910859), (231.175444009, -325.928429861), (230.072933549, -330))
            Line((230.072933549, -330), (230.072933549, -350))
            Line((230.072933549, -350), (255, -350))
        make_face()
    extrude(amount=BOSS_EXTRUDE3_DEPTH)

    # Sketch19 → Cut-Extrude17 (cut)
    with BuildSketch(Plane.XY.offset(180)):
        with Locations((67.49270073, 42.5)):
            Rectangle(SKETCH19_W, SKETCH19_H)
    extrude(amount=-CUT_EXTRUDE17_DEPTH, mode=Mode.SUBTRACT)

    # Sketch22 → Cut-Extrude18 (cut)
    with BuildSketch(Plane.XY.offset(400)):
        with Locations((132.5, 36.666666666)):
            Rectangle(SKETCH22_W, SKETCH22_H)
    extrude(amount=-CUT_EXTRUDE18_DEPTH, mode=Mode.SUBTRACT)

    # Sketch23 → Cut-Extrude19 (cut)
    with BuildSketch(Plane.XY.offset(395)):
        with Locations((132.5, 38.333333334)):
            Rectangle(SKETCH23_W, SKETCH23_H)
    extrude(amount=-CUT_EXTRUDE19_DEPTH, mode=Mode.SUBTRACT)

    # Sketch25 → Cut-Extrude20 (cut)
    with BuildSketch(Plane(origin=(0, 100, 0), x_dir=(1, 0, 0), z_dir=(0, 1, 0))):
        with Locations((132.5, -92.5)):
            Rectangle(SKETCH25_W, SKETCH25_H)
    extrude(amount=-CUT_EXTRUDE20_DEPTH, mode=Mode.SUBTRACT)

    # Sketch26 → Cut-Extrude21 (cut)
    with BuildSketch(Plane(origin=(0, 95, 0), x_dir=(1, 0, 0), z_dir=(0, 1, 0))):
        with Locations((132.844011757, -92.5)):
            Rectangle(SKETCH26_W, SKETCH26_H)
    extrude(amount=-CUT_EXTRUDE21_DEPTH, mode=Mode.SUBTRACT)


with BuildPart() as body_2:
    # Sketch21 → Boss-Extrude9 (new body)
    with BuildSketch(Plane.XZ.offset(-20)):
        with Locations((132.53281714, 265)):
            Rectangle(SKETCH21_W, SKETCH21_H)
    extrude(amount=BOSS_EXTRUDE9_DEPTH)


solid = Compound([part.part, body_2.part])
